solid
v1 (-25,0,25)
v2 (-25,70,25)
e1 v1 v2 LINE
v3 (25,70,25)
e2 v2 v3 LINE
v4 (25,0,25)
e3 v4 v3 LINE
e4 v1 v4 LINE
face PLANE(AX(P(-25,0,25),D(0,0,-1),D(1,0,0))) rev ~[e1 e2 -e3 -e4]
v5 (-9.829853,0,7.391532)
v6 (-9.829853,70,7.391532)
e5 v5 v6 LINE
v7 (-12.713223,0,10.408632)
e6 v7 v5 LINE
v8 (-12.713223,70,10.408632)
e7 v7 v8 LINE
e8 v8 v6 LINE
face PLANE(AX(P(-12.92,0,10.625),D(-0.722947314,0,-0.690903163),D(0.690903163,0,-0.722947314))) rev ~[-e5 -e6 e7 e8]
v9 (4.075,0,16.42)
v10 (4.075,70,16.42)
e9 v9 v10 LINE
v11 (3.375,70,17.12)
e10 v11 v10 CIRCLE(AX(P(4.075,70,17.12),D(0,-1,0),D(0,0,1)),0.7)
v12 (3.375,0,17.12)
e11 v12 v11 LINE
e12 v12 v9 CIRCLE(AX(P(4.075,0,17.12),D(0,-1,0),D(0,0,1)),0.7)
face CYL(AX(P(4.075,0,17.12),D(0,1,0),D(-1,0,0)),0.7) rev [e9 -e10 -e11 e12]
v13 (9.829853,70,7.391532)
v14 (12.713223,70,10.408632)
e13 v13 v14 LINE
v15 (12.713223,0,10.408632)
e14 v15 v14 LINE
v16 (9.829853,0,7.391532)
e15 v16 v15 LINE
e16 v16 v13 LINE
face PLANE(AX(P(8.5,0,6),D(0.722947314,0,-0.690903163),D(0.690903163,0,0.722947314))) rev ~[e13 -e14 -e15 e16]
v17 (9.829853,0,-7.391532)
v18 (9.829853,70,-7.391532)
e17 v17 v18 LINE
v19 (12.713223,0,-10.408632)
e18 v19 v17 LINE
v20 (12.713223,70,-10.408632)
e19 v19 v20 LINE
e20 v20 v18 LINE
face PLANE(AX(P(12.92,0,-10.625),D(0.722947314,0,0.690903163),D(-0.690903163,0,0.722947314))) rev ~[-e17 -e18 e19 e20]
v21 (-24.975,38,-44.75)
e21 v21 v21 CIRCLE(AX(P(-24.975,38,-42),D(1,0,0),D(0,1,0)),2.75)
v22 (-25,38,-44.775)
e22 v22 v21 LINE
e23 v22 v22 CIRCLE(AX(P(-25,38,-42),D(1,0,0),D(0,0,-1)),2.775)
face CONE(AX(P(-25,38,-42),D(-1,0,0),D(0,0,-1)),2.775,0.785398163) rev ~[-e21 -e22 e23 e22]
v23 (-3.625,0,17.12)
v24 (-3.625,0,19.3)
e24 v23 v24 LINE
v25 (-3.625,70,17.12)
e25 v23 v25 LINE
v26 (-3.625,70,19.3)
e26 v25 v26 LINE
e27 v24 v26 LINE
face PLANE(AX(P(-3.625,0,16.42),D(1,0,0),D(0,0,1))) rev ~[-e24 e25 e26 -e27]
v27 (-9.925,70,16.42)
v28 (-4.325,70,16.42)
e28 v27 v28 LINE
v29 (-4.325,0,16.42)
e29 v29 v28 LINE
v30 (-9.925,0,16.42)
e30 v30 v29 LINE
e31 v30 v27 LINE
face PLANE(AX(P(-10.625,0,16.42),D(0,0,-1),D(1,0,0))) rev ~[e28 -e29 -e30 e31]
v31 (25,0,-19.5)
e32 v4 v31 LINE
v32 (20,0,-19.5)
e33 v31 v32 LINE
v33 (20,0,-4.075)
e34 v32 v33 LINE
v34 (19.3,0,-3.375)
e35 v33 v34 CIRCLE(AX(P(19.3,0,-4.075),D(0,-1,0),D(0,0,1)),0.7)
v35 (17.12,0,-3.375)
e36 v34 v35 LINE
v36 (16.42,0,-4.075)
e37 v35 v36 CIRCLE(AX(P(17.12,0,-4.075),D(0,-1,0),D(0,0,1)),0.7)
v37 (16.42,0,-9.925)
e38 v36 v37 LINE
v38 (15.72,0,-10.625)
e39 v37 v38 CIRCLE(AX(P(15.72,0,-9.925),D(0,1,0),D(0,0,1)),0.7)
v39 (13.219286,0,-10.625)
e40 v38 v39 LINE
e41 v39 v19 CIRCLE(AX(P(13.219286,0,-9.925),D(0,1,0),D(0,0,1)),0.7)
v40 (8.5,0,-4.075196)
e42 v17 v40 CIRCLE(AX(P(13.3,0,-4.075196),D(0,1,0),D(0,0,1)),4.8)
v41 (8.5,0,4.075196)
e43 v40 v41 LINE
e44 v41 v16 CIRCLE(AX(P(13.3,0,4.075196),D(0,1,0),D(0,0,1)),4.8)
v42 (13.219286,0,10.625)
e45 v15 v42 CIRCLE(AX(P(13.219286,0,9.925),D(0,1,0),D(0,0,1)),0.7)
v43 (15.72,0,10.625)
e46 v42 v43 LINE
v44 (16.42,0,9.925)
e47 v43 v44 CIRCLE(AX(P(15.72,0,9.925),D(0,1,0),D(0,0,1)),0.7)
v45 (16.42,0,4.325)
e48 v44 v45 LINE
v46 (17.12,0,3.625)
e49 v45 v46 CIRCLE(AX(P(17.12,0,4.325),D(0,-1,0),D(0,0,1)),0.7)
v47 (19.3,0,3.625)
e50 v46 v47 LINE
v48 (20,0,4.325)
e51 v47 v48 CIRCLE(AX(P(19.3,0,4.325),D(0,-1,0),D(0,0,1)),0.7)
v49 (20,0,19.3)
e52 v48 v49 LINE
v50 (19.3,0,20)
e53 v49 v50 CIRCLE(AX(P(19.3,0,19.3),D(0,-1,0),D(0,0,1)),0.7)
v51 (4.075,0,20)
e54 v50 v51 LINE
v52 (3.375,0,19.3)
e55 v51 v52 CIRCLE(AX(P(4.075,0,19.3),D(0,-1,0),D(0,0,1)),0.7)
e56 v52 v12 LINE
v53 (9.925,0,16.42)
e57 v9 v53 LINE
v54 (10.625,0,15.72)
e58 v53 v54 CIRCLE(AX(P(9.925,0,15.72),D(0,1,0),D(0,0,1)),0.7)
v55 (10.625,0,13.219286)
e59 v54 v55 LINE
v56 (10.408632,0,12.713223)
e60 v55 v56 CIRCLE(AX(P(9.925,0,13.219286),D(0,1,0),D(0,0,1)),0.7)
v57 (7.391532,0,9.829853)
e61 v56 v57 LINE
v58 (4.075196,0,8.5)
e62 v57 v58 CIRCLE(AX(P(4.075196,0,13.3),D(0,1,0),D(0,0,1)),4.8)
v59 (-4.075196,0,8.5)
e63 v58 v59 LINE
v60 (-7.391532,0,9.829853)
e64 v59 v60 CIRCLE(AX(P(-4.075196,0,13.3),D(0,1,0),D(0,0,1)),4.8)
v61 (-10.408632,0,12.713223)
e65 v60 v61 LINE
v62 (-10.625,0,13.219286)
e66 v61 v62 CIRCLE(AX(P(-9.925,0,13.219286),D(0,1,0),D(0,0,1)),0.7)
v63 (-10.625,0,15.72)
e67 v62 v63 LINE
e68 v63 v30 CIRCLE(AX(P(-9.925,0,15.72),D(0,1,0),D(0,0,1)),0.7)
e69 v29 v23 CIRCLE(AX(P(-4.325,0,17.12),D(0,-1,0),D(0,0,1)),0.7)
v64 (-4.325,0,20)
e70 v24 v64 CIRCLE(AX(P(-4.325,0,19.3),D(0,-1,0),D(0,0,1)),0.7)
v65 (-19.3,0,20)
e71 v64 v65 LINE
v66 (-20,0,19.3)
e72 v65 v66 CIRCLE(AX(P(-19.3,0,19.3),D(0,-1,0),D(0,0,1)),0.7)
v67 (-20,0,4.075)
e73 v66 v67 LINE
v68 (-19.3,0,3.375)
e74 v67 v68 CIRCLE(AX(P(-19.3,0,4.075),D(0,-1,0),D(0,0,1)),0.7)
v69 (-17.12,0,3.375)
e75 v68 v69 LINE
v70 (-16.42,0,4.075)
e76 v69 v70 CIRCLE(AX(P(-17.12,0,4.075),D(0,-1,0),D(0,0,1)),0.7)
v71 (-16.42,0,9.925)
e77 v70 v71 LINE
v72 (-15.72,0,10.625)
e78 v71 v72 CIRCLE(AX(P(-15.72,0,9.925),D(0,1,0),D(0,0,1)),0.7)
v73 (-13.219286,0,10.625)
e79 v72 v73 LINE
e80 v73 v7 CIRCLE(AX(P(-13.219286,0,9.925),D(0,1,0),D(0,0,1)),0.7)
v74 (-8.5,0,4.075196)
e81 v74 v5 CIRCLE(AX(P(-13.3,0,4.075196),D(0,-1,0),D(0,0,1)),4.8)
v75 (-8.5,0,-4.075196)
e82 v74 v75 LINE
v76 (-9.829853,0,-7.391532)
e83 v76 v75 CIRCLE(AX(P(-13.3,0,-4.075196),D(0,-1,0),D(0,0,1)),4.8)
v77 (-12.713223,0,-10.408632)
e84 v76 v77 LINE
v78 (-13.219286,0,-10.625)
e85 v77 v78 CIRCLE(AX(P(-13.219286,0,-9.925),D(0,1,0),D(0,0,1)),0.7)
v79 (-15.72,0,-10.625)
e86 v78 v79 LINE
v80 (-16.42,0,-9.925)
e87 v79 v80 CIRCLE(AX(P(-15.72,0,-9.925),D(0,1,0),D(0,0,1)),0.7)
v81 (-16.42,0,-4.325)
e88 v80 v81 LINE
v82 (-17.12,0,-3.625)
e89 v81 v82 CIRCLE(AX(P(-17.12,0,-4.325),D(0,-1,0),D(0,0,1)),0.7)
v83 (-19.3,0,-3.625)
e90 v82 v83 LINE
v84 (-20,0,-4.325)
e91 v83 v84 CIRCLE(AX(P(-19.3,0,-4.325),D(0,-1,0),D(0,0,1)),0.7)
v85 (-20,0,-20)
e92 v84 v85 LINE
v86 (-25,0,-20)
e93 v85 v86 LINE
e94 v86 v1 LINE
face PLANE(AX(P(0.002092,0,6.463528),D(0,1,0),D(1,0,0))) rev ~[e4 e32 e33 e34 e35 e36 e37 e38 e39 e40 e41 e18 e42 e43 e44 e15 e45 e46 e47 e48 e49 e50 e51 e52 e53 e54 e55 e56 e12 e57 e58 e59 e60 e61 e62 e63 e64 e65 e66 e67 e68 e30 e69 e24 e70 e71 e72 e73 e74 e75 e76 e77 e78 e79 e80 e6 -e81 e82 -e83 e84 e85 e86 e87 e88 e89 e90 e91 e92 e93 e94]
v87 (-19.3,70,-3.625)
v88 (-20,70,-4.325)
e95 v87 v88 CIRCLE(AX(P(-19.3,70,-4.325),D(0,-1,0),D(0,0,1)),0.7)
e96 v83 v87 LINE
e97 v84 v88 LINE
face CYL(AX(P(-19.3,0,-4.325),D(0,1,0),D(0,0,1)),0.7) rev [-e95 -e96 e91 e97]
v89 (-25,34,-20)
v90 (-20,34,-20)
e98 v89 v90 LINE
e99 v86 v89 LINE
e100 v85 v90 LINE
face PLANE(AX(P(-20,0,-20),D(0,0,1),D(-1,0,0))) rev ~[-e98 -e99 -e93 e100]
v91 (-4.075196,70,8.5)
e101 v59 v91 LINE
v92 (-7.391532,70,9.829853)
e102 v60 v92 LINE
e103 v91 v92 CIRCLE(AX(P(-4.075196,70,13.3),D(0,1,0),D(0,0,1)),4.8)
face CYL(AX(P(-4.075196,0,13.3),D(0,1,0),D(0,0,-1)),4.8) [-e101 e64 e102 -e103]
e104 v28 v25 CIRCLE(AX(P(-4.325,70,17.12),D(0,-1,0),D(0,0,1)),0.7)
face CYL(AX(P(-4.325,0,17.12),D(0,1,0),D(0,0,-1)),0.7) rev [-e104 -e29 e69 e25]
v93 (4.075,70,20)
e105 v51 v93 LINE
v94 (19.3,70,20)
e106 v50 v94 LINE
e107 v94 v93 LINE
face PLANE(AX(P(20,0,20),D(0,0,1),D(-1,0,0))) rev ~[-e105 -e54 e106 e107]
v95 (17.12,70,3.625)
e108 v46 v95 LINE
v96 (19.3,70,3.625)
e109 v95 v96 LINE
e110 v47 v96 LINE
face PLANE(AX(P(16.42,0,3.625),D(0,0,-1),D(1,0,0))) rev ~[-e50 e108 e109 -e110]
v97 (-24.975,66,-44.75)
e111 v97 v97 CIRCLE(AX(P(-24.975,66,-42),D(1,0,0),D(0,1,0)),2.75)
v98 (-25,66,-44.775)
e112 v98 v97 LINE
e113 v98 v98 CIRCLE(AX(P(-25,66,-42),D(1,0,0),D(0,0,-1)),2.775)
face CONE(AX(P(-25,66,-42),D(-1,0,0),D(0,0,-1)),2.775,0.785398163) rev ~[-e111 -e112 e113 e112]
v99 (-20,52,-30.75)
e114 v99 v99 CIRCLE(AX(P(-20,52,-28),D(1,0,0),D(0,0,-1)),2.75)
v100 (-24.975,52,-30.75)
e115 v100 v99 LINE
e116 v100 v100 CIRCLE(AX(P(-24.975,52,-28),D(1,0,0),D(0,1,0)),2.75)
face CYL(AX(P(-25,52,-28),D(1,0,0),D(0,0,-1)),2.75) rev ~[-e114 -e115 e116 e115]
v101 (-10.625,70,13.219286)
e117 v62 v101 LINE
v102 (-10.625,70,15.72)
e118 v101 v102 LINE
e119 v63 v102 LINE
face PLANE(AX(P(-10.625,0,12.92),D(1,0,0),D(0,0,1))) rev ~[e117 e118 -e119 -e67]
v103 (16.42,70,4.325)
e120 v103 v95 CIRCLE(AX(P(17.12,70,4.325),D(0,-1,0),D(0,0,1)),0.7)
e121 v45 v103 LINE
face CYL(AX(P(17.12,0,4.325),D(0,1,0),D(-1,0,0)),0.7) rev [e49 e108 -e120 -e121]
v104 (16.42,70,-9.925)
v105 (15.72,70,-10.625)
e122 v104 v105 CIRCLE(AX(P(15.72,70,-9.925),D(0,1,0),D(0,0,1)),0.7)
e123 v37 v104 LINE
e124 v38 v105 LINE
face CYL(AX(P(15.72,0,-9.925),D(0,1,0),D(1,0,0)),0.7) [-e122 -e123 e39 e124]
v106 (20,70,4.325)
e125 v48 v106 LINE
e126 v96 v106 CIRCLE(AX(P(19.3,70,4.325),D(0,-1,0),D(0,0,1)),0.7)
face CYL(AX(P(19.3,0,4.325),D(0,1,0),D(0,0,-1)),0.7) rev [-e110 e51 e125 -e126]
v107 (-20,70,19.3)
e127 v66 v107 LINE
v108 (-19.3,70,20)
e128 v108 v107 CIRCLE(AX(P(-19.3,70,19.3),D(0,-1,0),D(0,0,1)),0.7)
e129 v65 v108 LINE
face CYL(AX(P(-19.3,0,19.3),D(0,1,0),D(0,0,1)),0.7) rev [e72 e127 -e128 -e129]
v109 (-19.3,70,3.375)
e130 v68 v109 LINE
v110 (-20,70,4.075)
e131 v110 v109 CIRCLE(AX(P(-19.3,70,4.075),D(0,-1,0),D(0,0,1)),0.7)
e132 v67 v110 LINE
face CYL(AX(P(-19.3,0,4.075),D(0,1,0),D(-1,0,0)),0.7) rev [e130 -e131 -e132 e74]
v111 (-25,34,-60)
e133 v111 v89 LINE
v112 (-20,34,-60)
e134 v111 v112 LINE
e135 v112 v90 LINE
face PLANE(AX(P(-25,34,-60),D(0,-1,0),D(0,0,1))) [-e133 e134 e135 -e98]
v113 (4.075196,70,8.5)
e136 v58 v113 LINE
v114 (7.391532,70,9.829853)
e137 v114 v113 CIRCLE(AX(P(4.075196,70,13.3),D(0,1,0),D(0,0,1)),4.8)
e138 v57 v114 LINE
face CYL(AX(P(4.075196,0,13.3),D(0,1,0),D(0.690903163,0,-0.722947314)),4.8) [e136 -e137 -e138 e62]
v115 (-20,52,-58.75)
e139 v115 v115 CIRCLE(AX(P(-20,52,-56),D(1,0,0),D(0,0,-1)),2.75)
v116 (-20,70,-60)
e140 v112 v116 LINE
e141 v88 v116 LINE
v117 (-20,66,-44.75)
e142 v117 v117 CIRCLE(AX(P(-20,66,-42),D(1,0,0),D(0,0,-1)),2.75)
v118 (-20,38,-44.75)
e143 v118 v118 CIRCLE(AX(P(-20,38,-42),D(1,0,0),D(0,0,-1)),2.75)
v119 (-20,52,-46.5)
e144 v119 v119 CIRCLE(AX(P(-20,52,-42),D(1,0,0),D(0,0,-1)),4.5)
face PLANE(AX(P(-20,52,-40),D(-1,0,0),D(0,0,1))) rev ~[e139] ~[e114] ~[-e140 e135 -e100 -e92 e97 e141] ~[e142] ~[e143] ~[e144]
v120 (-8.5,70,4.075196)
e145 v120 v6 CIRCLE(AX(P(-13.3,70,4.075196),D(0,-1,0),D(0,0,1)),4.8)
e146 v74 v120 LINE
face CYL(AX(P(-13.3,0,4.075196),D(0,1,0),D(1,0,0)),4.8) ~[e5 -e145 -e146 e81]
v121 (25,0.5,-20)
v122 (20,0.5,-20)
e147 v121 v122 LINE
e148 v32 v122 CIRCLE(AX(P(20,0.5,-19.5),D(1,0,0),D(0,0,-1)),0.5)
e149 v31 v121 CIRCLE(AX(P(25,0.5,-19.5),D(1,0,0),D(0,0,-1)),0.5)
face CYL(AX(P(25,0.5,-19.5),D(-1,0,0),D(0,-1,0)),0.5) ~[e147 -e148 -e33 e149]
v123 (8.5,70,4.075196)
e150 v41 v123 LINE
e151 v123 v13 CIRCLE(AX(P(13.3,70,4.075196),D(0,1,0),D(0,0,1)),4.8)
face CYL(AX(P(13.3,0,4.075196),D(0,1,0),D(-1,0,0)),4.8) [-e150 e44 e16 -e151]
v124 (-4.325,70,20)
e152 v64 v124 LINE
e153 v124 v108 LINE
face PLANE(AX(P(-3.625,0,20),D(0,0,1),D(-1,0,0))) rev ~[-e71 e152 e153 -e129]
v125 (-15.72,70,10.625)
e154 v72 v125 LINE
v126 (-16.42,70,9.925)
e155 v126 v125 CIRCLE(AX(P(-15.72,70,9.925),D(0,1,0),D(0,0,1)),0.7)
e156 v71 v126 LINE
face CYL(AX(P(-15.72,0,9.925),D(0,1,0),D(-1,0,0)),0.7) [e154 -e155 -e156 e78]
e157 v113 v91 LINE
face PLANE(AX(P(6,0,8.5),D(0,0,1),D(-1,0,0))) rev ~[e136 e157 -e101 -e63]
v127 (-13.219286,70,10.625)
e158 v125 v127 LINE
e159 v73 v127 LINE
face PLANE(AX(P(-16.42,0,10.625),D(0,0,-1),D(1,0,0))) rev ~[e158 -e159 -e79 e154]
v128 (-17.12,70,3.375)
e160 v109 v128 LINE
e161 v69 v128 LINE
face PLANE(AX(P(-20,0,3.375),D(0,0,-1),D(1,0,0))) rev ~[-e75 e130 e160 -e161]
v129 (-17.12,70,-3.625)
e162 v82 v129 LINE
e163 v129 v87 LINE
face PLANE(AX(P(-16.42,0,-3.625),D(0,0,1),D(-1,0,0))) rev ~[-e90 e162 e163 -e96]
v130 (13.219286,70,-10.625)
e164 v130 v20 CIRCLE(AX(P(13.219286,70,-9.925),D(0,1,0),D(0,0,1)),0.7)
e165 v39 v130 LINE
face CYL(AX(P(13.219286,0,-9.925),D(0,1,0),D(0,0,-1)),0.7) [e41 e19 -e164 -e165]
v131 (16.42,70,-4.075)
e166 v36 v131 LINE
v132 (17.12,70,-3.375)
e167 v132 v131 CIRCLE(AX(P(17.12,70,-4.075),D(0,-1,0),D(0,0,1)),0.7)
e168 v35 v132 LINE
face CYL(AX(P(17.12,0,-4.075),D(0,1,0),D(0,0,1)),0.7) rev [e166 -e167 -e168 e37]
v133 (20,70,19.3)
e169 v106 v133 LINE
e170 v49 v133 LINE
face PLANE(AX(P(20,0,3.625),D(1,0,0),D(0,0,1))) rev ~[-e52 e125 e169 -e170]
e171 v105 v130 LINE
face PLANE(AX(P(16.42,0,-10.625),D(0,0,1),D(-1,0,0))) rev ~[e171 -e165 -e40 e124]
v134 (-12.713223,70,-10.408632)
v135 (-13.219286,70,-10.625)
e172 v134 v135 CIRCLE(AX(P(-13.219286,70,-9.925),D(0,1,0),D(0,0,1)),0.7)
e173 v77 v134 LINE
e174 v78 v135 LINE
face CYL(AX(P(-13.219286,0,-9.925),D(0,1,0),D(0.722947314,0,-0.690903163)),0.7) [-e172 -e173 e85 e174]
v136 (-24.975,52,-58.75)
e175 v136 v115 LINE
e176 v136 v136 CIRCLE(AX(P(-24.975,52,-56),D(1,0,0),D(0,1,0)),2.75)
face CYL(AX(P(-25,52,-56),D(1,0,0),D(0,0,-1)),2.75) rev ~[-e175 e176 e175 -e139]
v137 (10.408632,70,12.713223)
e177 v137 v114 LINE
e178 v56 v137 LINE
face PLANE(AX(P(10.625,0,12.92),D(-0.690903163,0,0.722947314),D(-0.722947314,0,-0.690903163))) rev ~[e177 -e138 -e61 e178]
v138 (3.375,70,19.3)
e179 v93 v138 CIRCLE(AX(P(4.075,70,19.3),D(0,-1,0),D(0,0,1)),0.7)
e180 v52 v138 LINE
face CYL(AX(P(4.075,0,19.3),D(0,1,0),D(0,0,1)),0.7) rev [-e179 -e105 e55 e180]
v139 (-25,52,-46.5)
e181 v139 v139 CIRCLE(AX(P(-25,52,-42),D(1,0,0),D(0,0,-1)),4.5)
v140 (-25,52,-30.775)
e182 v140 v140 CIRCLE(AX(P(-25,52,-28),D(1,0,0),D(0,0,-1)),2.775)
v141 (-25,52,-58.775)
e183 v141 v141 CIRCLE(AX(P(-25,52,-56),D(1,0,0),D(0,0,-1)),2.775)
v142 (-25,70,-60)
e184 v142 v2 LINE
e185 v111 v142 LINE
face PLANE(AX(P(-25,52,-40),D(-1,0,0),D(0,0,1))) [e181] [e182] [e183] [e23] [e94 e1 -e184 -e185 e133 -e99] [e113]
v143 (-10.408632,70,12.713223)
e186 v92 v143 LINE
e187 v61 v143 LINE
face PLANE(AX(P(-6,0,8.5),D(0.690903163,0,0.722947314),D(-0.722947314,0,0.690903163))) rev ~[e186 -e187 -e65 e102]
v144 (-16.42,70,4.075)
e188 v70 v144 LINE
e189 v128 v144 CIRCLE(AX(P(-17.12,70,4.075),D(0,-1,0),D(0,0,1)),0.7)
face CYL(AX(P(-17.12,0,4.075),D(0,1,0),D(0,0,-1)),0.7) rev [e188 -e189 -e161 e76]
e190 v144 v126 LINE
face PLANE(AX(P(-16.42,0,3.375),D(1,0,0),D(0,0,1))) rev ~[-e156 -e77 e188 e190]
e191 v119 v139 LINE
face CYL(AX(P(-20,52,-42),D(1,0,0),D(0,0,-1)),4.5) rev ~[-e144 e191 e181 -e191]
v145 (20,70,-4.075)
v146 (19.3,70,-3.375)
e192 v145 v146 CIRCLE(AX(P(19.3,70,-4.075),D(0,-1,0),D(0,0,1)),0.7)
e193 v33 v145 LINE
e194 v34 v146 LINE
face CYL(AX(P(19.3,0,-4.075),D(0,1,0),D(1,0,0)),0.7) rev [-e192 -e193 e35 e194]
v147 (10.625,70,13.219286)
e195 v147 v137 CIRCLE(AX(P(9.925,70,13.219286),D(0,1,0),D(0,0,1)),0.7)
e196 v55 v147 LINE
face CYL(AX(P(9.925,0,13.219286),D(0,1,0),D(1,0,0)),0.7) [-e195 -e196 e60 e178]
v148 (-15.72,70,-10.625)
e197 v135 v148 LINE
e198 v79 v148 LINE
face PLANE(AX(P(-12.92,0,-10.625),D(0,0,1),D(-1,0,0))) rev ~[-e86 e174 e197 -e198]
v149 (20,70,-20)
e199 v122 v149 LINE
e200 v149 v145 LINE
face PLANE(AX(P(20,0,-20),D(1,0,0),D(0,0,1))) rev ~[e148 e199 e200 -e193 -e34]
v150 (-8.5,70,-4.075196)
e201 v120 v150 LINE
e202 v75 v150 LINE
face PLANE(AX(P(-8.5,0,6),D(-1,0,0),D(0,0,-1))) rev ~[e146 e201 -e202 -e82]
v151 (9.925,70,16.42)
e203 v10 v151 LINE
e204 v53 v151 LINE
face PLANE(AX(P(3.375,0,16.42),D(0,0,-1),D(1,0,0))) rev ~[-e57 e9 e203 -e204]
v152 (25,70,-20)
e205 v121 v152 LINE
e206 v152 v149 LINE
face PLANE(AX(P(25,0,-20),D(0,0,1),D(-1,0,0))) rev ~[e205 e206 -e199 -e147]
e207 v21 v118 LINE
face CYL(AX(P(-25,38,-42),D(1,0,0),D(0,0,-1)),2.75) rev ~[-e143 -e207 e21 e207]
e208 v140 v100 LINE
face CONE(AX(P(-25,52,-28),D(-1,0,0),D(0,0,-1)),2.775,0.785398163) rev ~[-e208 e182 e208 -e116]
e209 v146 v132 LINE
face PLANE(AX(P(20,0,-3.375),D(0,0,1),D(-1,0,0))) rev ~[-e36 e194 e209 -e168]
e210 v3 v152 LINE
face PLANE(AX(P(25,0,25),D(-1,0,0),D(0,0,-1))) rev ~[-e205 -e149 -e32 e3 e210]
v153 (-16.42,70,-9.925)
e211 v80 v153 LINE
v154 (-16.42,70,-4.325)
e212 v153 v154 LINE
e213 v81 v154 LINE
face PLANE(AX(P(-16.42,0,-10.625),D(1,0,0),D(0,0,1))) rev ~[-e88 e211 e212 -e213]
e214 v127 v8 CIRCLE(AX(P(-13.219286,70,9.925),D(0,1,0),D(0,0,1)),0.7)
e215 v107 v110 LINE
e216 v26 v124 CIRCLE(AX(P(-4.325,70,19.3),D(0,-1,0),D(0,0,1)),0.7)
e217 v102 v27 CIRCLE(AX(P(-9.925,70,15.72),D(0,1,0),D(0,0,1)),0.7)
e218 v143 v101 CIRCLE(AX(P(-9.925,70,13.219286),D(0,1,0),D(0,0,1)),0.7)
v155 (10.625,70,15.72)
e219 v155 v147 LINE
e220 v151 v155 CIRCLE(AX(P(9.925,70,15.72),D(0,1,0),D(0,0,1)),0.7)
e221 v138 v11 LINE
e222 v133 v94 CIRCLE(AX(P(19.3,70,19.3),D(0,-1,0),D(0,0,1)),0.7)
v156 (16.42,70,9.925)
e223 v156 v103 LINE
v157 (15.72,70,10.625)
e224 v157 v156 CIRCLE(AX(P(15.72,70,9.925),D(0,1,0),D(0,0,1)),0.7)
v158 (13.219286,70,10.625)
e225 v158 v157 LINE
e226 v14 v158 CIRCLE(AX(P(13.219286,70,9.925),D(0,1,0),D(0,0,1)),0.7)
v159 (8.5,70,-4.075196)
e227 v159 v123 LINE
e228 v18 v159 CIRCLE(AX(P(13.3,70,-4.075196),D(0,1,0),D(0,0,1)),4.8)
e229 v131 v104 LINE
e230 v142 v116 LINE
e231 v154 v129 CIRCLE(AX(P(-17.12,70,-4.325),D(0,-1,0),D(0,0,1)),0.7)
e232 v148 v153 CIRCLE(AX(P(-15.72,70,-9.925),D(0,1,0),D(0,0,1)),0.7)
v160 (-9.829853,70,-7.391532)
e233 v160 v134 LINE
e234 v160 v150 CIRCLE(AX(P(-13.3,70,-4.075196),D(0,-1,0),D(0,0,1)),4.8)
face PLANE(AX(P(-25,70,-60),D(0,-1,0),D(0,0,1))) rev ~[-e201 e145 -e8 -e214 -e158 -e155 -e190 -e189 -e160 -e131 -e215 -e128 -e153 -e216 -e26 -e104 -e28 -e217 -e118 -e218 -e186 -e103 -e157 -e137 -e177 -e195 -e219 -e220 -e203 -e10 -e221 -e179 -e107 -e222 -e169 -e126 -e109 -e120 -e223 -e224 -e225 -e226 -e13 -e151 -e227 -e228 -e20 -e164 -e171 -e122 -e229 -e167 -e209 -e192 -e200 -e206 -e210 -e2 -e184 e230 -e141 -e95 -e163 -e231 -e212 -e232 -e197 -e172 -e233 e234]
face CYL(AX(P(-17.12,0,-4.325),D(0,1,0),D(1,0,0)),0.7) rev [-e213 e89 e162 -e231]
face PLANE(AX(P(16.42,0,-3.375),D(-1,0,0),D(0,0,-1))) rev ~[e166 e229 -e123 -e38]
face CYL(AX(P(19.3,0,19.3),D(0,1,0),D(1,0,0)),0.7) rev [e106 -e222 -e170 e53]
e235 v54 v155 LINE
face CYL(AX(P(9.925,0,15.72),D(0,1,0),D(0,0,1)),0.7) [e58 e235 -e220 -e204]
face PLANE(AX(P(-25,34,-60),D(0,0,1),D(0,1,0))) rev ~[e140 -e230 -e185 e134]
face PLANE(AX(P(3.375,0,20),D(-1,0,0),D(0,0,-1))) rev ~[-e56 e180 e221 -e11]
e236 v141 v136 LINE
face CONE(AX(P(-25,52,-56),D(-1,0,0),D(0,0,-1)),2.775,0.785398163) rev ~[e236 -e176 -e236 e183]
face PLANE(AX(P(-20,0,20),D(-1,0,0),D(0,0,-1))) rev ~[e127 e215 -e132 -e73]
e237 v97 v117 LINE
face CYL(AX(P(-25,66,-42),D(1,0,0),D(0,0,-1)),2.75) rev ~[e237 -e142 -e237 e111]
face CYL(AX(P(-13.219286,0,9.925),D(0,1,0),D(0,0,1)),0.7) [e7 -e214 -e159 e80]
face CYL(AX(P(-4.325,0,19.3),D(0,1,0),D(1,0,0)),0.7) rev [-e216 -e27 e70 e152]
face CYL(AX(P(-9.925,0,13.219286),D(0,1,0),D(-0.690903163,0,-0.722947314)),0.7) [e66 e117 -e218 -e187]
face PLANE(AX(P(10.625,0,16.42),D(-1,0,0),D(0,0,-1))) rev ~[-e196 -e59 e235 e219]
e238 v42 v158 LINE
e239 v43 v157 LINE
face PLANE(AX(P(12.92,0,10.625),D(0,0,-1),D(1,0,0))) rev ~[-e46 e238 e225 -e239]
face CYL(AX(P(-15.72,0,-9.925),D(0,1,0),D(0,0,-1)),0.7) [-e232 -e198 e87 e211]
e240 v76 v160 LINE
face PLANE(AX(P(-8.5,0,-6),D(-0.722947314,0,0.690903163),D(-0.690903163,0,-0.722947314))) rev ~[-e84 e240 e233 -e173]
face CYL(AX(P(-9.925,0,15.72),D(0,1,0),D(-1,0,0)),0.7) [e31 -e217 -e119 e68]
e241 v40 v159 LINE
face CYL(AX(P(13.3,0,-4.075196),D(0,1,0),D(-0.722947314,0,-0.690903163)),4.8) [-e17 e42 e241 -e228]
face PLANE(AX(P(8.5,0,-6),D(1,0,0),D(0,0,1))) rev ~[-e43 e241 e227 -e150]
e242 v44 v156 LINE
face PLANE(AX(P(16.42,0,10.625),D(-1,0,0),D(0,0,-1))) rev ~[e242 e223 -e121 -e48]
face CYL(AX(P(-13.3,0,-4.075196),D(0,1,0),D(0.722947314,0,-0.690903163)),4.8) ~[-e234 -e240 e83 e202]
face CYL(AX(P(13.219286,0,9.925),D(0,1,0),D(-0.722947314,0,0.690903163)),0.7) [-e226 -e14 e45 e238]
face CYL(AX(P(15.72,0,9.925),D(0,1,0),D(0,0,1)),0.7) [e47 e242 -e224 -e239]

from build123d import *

# Parameters (mm, degrees)
BOSS_EXTRUDE1_DEPTH            = 70
FILLET4_R                      = 0.7
FILLET6_R                      = 4.8
FILLET12_R                     = 0.5
SKETCH2_W                      = 40
SKETCH2_H                      = 36
BOSS_EXTRUDE2_DEPTH            = 5
M5_CLEARANCE_HOLE1_D           = 5.5
M5_CLEARANCE_HOLE1_DEPTH       = 13
M5_CLEARANCE_HOLE1_CSINK_D     = 5.55
M5_CLEARANCE_HOLE1_CSINK_ANGLE = 90
M5_CLEARANCE_HOLE1_TIP         = 1.652366702
SKETCH7_R                      = 4.5
CUT_EXTRUDE1_DEPTH             = 46
CUT_EXTRUDE1_DEPTH_BACK        = 6


with BuildPart() as part:
    # Sketch1 → Boss-Extrude1 (new body)
    with BuildSketch(Plane(origin=(0, 0, 0), x_dir=(1, 0, 0), z_dir=(0, 1, 0))):
        Polygon((-25, -25), (25, -25), (25, 20), (20, 20), (20, 3.375), (16.42, 3.375), (16.42, 10.625), (12.92, 10.625), (8.5, 6), (8.5, -6), (12.92, -10.625), (16.42, -10.625), (16.42, -3.625), (20, -3.625), (20, -20), (3.375, -20), (3.375, -16.42), (10.625, -16.42), (10.625, -12.92), (6, -8.5), (-6, -8.5), (-10.625, -12.92), (-10.625, -16.42), (-3.625, -16.42), (-3.625, -20), (-20, -20), (-20, -3.375), (-16.42, -3.375), (-16.42, -10.625), (-12.92, -10.625), (-8.5, -6), (-8.5, 6), (-12.92, 10.625), (-16.42, 10.625), (-16.42, 3.625), (-20, 3.625), (-20, 20), (-25, 20), align=None)
    extrude(amount=BOSS_EXTRUDE1_DEPTH)

    # Fillet4
    fillet4_edges = [part.edges().sort_by_distance(p)[0] for p in [
        (-3.625, 35, 16.42),
        (-10.625, 35, 16.42),
        (-10.625, 35, 12.92),
        (10.625, 35, 12.92),
        (10.625, 35, 16.42),
        (3.375, 35, 16.42),
        (3.375, 35, 20),
        (20, 35, 20),
        (20, 35, 3.625),
        (16.42, 35, 3.625),
        (16.42, 35, 10.625),
        (12.92, 35, 10.625),
        (12.92, 35, -10.625),
        (16.42, 35, -10.625),
        (16.42, 35, -3.375),
        (20, 35, -3.375),
        (-20, 35, -3.625),
        (-16.42, 35, -3.625),
        (-16.42, 35, -10.625),
        (-12.92, 35, -10.625),
        (-12.92, 35, 10.625),
        (-16.42, 35, 10.625),
        (-16.42, 35, 3.375),
        (-20, 35, 3.375),
        (-20, 35, 20),
        (-3.625, 35, 20),
    ]]
    fillet(fillet4_edges, radius=FILLET4_R)

    # Fillet6
    fillet6_edges = [part.edges().sort_by_distance(p)[0] for p in [
        (-6, 35, 8.5),
        (6, 35, 8.5),
        (8.5, 35, 6),
        (8.5, 35, -6),
        (-8.5, 35, -6),
        (-8.5, 35, 6),
    ]]
    fillet(fillet6_edges, radius=FILLET6_R)

    # Fillet12
    fillet12_edges = [part.edges().sort_by_distance(p)[0] for p in [
        (22.5, 0, -20),
    ]]
    fillet(fillet12_edges, radius=FILLET12_R)

    # Sketch2 → Boss-Extrude2 (add)
    with BuildSketch(Plane.ZY.offset(25)):
        with Locations((-40, 52)):
            Rectangle(SKETCH2_W, SKETCH2_H)
    extrude(amount=-BOSS_EXTRUDE2_DEPTH)

    # M5 Clearance Hole1
    with Locations(Plane.ZY.offset(25)):
        with Locations((-56, 52), (-42, 66), (-28, 52), (-42, 38)):
            CounterSinkHole(M5_CLEARANCE_HOLE1_D / 2, M5_CLEARANCE_HOLE1_CSINK_D / 2, depth=M5_CLEARANCE_HOLE1_DEPTH, counter_sink_angle=M5_CLEARANCE_HOLE1_CSINK_ANGLE)
            with Locations((0, 0, -(M5_CLEARANCE_HOLE1_DEPTH + M5_CLEARANCE_HOLE1_TIP / 2))):  # 118° drill point
                Cone(0, M5_CLEARANCE_HOLE1_D / 2, M5_CLEARANCE_HOLE1_TIP, mode=Mode.SUBTRACT)

    # Sketch7 → Cut-Extrude1 (cut, two sides)
    with BuildSketch(Plane(origin=(-20, 0, 0), x_dir=(0, 0, -1), z_dir=(1, 0, 0))) as cut_extrude1_sk:
        with Locations((42, 52)):
            Circle(SKETCH7_R)
    extrude(amount=CUT_EXTRUDE1_DEPTH, mode=Mode.SUBTRACT)
    extrude(cut_extrude1_sk.sketch, amount=-CUT_EXTRUDE1_DEPTH_BACK, mode=Mode.SUBTRACT)


solid = part.part
